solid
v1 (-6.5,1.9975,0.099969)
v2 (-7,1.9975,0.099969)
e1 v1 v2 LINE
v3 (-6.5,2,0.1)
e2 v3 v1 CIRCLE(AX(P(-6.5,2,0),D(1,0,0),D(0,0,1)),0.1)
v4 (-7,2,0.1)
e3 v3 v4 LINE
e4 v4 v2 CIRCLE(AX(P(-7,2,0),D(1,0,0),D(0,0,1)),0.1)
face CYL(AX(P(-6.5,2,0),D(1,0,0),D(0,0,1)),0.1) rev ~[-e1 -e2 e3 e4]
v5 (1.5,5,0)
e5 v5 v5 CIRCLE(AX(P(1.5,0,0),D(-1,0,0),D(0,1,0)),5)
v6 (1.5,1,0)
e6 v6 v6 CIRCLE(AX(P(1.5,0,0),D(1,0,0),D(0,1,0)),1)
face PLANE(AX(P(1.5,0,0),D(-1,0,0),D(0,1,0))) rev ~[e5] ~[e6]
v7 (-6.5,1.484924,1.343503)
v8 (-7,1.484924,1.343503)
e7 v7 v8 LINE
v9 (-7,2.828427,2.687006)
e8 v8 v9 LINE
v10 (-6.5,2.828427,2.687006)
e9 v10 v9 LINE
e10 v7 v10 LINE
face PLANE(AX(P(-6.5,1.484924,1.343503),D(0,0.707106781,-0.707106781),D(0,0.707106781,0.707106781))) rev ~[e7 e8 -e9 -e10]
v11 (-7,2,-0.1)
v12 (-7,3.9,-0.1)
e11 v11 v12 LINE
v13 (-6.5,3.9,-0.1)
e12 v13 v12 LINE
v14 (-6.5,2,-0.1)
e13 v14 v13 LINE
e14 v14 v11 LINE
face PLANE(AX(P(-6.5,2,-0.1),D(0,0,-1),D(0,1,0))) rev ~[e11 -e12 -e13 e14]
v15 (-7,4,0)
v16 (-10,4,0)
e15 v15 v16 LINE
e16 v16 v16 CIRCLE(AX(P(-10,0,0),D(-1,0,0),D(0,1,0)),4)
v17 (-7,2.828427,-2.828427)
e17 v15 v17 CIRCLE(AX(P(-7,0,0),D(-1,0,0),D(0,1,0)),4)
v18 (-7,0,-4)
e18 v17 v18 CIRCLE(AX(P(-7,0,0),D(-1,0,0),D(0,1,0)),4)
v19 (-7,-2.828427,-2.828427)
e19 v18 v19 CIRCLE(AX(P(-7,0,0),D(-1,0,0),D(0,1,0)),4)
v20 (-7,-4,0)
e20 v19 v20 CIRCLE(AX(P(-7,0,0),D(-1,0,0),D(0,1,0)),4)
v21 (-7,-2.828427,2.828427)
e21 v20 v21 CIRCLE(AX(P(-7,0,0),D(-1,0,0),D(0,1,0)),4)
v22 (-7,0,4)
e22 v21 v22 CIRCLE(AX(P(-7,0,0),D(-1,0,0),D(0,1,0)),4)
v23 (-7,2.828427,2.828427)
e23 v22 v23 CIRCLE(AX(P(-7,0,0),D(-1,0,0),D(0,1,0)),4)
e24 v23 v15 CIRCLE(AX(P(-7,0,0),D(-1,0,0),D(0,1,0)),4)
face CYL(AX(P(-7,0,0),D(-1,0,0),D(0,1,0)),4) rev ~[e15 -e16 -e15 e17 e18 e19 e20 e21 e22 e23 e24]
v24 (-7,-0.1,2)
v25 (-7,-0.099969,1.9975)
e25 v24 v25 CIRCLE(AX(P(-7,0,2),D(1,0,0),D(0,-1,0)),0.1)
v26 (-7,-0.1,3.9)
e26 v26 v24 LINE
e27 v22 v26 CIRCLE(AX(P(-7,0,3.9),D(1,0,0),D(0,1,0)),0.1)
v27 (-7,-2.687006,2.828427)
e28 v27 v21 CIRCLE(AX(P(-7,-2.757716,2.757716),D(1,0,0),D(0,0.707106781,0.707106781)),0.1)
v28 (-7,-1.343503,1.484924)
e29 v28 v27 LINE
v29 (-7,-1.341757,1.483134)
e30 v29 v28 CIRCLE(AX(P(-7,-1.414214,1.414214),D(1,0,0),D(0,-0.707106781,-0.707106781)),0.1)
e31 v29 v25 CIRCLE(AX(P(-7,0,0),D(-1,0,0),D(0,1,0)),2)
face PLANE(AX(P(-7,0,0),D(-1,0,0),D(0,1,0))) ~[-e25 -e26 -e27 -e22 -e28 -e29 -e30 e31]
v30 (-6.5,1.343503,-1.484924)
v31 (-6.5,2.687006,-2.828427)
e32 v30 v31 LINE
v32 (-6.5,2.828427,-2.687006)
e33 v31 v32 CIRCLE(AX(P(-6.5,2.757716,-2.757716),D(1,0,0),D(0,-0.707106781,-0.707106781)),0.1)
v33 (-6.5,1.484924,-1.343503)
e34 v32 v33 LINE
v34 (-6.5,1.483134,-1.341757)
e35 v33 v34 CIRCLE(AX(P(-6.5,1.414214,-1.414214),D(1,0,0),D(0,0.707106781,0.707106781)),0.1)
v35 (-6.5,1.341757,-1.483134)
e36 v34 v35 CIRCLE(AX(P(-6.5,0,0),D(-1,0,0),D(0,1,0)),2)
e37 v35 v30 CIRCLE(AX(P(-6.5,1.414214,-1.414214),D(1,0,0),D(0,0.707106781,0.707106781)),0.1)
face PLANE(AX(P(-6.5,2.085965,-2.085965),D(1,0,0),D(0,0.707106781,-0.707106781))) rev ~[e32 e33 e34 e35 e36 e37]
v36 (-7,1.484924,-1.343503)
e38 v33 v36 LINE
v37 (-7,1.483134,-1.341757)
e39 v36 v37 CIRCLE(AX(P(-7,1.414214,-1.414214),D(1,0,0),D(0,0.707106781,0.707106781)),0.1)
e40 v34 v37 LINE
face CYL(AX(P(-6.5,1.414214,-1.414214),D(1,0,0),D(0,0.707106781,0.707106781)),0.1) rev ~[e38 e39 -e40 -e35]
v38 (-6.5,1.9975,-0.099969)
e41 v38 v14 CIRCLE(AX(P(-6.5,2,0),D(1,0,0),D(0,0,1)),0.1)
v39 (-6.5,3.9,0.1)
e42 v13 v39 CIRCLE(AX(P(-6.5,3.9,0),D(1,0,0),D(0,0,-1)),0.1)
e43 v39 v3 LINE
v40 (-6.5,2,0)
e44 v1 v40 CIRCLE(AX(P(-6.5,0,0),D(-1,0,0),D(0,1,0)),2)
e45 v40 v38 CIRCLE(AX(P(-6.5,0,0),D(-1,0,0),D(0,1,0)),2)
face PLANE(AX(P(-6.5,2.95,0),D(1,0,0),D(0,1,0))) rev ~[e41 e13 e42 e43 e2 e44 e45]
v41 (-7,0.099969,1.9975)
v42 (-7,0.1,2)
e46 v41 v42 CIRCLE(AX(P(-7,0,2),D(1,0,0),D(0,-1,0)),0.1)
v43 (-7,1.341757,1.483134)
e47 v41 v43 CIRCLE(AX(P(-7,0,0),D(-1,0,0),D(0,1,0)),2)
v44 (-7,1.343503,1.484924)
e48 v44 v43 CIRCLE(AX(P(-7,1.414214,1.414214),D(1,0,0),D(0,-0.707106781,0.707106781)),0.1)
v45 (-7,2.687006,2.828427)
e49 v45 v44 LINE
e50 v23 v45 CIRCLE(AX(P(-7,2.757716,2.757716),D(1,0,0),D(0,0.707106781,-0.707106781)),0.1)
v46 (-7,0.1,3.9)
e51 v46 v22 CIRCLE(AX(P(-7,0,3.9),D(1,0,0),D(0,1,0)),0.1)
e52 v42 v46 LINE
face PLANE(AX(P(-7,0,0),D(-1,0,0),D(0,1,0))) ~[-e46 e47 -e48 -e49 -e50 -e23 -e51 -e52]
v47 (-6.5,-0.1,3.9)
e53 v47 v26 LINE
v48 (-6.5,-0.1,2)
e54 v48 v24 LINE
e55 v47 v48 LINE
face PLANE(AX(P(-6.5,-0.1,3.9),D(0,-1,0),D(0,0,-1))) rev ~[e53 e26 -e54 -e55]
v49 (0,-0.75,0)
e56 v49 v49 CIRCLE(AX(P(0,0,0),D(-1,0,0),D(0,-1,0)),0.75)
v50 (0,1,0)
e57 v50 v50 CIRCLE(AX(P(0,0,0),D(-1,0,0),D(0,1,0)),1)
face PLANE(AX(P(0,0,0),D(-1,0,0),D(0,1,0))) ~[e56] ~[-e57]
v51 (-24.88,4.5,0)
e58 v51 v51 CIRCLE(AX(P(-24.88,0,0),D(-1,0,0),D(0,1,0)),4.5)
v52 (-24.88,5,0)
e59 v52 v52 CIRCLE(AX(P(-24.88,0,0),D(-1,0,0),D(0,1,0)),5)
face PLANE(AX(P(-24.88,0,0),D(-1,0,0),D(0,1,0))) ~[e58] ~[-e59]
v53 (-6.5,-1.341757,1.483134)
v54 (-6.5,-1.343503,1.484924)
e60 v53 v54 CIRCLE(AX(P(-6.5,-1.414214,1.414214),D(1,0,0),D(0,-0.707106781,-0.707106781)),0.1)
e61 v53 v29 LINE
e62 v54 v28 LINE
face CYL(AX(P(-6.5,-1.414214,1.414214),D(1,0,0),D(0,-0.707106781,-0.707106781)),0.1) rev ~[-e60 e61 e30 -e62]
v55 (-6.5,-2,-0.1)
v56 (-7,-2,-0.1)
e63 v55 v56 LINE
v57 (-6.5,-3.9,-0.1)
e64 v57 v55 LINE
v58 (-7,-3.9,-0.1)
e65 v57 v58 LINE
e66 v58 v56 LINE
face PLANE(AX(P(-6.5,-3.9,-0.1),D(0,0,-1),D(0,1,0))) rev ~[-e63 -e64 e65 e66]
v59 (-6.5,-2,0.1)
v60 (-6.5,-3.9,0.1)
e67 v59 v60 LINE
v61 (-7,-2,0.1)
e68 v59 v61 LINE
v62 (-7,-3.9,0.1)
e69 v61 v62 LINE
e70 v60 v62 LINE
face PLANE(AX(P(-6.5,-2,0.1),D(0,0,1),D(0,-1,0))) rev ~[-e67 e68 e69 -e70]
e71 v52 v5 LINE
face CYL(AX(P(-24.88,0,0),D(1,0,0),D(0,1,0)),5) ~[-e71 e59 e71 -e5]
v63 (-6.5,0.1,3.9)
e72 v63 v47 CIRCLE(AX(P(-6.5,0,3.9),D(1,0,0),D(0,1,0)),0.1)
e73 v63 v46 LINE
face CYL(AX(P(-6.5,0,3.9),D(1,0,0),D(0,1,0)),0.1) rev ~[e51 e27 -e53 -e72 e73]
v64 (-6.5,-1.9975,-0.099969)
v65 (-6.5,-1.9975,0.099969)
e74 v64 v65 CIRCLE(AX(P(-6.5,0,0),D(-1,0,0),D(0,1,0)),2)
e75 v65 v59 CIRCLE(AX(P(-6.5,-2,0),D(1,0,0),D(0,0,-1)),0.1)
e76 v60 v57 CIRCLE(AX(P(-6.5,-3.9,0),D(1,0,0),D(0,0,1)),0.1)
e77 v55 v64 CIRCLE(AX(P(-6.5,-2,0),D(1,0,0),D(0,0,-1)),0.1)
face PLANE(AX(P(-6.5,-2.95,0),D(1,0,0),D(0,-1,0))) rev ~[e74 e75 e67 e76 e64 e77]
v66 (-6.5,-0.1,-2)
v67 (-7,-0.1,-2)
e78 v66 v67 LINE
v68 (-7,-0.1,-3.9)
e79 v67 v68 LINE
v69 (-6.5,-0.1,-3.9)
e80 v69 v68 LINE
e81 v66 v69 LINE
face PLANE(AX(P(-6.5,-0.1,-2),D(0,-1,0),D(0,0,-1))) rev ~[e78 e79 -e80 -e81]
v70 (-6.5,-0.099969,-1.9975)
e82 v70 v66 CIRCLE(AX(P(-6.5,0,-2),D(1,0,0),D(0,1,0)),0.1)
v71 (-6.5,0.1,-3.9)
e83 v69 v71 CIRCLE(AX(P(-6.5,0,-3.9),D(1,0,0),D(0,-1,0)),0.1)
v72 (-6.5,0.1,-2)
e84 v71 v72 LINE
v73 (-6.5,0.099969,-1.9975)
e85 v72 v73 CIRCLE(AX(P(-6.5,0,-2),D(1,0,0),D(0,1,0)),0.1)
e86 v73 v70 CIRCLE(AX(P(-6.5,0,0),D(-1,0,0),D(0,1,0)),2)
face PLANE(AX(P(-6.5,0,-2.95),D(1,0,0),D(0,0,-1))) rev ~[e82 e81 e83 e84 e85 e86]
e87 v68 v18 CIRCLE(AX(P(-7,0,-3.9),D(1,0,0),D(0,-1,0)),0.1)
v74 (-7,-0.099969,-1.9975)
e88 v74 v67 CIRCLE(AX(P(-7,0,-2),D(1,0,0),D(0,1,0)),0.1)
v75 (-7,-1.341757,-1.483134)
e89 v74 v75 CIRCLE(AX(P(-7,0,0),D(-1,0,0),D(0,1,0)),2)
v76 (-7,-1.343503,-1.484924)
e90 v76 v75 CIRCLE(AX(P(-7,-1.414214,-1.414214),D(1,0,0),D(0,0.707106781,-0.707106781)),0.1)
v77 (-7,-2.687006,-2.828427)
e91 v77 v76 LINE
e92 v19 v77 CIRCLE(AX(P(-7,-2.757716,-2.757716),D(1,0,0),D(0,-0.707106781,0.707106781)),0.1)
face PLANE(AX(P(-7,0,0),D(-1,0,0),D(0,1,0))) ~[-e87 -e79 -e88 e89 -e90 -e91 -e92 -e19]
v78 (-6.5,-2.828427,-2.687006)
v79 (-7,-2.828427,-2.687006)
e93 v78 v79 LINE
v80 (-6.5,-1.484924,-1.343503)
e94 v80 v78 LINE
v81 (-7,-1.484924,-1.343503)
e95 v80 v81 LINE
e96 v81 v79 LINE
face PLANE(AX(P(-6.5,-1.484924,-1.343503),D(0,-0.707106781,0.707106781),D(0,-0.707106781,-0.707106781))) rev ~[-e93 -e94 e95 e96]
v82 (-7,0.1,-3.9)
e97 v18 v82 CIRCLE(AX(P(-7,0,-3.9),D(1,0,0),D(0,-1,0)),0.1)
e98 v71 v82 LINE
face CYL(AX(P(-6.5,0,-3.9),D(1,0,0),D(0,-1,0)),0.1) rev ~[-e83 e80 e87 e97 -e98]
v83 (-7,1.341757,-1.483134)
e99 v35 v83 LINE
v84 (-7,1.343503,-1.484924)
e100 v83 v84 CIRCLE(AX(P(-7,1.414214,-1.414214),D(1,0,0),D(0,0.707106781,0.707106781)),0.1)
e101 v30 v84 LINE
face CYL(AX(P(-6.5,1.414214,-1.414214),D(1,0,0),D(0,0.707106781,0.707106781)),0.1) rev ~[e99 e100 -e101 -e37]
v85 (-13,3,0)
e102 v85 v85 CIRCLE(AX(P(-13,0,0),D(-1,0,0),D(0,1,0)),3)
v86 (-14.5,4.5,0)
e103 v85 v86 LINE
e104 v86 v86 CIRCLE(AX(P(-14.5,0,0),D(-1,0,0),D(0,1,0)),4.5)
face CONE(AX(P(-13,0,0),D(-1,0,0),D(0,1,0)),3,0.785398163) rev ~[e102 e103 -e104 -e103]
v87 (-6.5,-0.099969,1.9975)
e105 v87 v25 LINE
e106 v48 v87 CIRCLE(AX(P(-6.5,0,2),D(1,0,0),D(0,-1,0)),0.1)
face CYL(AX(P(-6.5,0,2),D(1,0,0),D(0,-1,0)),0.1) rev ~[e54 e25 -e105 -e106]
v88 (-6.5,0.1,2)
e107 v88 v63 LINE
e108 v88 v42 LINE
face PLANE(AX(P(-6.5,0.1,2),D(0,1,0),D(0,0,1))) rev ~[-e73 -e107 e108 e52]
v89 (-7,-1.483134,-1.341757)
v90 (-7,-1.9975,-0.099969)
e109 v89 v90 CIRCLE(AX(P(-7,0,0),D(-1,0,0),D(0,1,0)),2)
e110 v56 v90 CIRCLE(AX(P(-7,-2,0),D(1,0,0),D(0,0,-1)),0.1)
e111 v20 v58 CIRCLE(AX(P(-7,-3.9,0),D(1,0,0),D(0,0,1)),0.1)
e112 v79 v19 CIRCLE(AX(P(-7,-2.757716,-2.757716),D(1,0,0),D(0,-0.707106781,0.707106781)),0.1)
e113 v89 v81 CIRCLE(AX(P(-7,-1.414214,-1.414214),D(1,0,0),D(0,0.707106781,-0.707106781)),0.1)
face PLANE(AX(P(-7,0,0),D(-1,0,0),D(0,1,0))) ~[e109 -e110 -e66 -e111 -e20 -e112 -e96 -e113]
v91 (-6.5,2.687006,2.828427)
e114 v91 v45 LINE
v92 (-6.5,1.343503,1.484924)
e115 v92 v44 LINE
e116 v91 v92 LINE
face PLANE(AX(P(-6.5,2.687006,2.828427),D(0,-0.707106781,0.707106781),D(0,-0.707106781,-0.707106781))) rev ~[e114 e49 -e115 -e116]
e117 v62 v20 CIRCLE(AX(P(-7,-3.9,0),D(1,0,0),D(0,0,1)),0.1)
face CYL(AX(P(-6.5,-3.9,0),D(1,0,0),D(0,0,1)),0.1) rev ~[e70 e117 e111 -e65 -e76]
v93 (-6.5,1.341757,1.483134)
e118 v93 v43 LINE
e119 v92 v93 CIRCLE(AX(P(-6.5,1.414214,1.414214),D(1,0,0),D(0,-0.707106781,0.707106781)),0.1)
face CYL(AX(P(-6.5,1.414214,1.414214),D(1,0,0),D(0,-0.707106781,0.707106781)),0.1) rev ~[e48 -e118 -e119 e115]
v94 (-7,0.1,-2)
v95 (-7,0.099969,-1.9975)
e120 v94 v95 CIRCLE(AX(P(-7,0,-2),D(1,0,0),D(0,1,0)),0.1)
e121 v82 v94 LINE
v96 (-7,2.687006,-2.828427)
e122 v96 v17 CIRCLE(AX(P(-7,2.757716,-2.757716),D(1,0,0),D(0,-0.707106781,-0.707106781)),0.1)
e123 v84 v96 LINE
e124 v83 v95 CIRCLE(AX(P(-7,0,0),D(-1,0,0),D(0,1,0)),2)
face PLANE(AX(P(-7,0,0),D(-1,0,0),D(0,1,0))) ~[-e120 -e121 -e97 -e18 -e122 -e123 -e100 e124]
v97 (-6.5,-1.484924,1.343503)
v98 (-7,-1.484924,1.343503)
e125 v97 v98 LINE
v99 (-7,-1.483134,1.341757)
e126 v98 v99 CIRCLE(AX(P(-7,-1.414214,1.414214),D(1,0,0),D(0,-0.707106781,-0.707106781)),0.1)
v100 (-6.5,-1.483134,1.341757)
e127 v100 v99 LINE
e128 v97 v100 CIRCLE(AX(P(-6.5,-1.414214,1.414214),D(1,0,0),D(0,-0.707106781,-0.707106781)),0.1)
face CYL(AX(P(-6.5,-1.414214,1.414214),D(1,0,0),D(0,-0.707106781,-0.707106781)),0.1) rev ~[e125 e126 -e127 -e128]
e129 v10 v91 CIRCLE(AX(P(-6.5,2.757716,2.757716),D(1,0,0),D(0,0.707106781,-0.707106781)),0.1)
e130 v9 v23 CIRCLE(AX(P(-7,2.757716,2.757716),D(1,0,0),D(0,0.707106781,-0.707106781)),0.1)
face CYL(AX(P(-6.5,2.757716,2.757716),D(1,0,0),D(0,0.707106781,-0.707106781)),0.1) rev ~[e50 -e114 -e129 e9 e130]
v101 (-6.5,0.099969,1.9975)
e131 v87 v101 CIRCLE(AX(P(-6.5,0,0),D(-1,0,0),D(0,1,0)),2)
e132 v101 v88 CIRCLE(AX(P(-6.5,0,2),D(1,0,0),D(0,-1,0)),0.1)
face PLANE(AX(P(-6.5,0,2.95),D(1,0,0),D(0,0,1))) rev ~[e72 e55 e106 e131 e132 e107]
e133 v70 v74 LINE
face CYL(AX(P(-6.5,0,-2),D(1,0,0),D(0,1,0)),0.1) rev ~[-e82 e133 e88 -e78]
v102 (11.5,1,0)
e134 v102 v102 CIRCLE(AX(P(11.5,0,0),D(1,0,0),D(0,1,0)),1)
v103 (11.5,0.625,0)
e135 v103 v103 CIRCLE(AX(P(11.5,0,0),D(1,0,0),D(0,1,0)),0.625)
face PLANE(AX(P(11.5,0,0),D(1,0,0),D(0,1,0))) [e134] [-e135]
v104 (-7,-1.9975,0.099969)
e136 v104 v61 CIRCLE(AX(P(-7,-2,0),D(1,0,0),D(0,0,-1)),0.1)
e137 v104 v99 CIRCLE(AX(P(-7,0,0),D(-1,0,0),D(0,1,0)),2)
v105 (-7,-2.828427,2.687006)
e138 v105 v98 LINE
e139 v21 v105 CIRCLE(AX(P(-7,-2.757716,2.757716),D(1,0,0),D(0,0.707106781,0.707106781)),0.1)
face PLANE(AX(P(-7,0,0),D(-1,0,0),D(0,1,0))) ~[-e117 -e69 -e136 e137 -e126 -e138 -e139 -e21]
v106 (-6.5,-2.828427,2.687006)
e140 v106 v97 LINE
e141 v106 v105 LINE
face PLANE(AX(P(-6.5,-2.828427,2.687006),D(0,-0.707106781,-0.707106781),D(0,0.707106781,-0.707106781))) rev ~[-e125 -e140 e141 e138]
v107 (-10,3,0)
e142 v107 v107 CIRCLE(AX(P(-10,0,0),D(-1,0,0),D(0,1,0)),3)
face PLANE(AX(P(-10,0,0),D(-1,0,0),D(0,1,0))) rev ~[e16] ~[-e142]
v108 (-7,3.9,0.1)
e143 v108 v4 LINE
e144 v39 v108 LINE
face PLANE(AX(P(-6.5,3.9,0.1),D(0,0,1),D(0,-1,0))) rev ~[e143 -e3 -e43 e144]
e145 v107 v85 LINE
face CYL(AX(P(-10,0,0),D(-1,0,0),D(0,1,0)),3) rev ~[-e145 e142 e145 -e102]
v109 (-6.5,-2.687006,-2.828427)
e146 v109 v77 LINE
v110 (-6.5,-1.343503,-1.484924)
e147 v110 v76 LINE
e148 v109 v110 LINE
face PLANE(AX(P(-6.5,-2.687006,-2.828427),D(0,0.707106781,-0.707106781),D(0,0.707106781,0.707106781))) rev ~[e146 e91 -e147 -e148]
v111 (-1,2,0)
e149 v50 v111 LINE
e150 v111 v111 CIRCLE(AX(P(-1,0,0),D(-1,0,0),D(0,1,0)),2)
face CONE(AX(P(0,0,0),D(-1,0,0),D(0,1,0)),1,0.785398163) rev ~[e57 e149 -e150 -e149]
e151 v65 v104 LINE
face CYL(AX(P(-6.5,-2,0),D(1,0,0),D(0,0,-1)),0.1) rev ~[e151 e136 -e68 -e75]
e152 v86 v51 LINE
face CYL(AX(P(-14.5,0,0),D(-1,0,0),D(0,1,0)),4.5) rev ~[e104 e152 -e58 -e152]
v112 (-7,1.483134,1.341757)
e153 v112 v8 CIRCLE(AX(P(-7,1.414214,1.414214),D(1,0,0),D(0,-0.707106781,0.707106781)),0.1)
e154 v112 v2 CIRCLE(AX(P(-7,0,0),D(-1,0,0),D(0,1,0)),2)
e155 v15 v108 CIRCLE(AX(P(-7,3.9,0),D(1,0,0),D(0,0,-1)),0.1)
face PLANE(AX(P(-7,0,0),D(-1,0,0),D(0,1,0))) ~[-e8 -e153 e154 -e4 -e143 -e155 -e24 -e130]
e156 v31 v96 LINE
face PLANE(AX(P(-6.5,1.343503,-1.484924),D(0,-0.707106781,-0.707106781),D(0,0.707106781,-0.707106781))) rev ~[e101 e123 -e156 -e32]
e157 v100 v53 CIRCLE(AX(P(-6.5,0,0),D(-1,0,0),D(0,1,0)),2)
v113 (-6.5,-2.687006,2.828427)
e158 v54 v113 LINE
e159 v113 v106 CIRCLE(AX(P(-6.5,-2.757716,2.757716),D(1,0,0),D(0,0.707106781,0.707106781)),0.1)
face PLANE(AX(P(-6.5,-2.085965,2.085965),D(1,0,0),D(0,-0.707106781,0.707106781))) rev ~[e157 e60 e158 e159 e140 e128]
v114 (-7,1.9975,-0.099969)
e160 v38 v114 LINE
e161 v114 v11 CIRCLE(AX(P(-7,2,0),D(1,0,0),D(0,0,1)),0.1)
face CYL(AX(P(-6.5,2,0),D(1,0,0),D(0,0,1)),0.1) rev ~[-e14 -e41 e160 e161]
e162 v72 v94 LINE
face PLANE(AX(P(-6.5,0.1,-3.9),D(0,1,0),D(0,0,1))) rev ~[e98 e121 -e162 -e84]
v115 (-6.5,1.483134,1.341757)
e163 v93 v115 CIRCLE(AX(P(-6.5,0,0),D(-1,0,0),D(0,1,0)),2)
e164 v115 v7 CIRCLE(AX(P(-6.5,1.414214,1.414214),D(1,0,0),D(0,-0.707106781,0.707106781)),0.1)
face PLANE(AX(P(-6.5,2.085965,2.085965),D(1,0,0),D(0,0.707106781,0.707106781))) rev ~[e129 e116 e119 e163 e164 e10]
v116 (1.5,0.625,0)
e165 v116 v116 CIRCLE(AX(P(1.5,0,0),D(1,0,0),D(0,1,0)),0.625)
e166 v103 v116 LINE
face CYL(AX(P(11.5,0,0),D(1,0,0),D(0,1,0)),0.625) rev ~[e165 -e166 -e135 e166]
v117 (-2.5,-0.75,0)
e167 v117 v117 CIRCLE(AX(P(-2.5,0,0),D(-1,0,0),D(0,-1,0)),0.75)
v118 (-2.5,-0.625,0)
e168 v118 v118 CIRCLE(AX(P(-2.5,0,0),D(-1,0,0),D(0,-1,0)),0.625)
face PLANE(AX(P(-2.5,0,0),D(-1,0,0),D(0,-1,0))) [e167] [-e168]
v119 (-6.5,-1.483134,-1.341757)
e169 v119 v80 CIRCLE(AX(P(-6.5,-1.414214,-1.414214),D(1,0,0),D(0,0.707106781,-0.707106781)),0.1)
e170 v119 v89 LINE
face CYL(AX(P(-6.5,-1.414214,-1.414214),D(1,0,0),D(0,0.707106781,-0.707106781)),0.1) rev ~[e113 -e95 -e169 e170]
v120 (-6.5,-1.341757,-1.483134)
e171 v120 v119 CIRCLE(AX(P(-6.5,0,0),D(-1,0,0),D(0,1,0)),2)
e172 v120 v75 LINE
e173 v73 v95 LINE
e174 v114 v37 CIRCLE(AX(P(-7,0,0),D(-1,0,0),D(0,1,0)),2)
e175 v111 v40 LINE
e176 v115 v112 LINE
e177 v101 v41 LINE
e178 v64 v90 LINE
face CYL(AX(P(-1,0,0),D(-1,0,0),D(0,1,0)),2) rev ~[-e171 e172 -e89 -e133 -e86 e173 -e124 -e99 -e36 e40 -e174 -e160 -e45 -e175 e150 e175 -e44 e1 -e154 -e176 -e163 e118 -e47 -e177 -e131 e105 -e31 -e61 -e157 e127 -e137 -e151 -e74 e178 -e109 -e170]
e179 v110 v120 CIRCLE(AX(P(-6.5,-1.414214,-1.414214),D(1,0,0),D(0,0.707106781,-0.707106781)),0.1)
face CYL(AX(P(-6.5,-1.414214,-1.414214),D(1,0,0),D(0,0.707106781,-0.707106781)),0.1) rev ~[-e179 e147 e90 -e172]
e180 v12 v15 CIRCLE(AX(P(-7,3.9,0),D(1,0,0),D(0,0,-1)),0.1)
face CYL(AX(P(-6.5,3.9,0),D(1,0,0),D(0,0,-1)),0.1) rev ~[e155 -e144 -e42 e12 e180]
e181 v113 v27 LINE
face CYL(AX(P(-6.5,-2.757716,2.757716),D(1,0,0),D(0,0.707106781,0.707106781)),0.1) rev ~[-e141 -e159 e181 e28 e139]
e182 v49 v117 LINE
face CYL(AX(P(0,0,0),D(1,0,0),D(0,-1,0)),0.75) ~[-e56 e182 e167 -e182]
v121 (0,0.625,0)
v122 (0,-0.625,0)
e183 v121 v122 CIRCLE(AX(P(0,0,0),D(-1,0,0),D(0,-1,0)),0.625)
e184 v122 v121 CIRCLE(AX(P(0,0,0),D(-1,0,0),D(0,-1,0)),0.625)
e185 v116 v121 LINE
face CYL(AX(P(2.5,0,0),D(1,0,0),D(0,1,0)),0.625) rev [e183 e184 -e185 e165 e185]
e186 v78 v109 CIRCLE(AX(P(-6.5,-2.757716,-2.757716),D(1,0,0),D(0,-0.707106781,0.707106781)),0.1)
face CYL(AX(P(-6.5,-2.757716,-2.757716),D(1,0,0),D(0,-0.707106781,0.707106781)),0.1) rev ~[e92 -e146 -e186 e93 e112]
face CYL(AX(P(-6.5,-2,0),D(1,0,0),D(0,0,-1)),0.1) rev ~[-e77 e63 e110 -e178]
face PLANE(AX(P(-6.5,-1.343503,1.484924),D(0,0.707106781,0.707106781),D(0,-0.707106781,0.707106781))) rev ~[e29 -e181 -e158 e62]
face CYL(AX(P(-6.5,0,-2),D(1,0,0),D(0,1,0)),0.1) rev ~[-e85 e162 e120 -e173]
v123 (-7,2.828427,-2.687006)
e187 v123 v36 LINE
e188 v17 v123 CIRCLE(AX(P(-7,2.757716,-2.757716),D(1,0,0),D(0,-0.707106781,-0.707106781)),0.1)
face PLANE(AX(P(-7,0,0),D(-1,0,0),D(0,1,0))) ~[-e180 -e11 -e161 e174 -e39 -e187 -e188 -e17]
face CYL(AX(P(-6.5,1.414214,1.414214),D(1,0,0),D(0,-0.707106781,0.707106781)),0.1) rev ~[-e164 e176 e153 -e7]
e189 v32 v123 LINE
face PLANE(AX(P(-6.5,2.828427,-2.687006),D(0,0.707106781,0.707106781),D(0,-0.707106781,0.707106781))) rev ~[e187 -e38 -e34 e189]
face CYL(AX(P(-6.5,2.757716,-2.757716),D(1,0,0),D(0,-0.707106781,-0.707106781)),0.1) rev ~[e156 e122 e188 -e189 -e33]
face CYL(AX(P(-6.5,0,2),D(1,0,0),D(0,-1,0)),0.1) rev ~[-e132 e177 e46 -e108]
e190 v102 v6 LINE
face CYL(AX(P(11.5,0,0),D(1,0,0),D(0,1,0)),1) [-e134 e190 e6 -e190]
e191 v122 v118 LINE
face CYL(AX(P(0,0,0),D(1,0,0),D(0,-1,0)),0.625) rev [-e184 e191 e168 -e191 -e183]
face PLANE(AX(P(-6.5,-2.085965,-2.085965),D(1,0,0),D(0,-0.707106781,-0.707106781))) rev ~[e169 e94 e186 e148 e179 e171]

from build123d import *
from build123d.topology import SkipClean

# Parameters (mm, degrees)
CUT_EXTRUDE1_START  = -0.5
CUT_EXTRUDE1_DEPTH  = 2
CIRPATTERN1_COUNT   = 8
SKETCH3_R           = 0.75
SKETCH3_R_2         = 0.625
BOSS_EXTRUDE1_DEPTH = 2.5
CUT_EXTRUDE2_START  = -2.5
SKETCH4_R           = 0.625
CUT_EXTRUDE2_DEPTH  = 2.5
BOSS_EXTRUDE2_START = 10
SKETCH5_R           = 1
SKETCH5_R_2         = 0.625
BOSS_EXTRUDE2_DEPTH = 10


with BuildPart() as part:
    # Sketch1 → Revolve1 (revolve)
    with BuildSketch(Plane.XY):
        Polygon((0, 0), (0, 1), (-1, 2), (-7, 2), (-7, 4), (-10, 4), (-10, 3), (-13, 3), (-14.5, 4.5), (-24.88, 4.5), (-24.88, 5), (1.5, 5), (1.5, 0), align=None)
    revolve(axis=Axis((1.5, 0, 0), (-1, 0, 0)))

    # Sketch2 → Cut-Extrude1 (cut)
    with BuildSketch(Plane.ZY.offset(7).offset(CUT_EXTRUDE1_START)):
        with BuildLine():
            Line((-2, -0.1), (-3.9, -0.1))
            ThreePointArc((-3.9, -0.1), (-4, 0), (-3.9, 0.1))
            Line((-3.9, 0.1), (-2, 0.1))
            ThreePointArc((-2, 0.1), (-1.9, 0), (-2, -0.1))
        make_face()
    cut_extrude1 = extrude(amount=CUT_EXTRUDE1_DEPTH, mode=Mode.SUBTRACT)

    # CirPattern1: Cut-Extrude1 ×8 about axis
    cirpattern1_axis = Axis((0, 0, 0), (1, 0, 0))
    for i in range(1, CIRPATTERN1_COUNT):
        add(cut_extrude1.rotate(cirpattern1_axis, i * 360 / CIRPATTERN1_COUNT), mode=Mode.SUBTRACT)

    # Sketch3 → Boss-Extrude1 (add)
    with BuildSketch(Plane.ZY):
        with Locations(Location((0, 0, 0), (0, 0, 270))):
            Circle(SKETCH3_R)
        with Locations(Location((0, 0, 0), (0, 0, 270))):
            Circle(SKETCH3_R_2, mode=Mode.SUBTRACT)
    extrude(amount=BOSS_EXTRUDE1_DEPTH)

    # Sketch4 → Cut-Extrude2 (cut)
    with BuildSketch(Plane.ZY.offset(CUT_EXTRUDE2_START)):
        with Locations(Location((0, 0, 0), (0, 0, 90))):
            Circle(SKETCH4_R)
    extrude(amount=CUT_EXTRUDE2_DEPTH, mode=Mode.SUBTRACT)

    # Sketch5 → Boss-Extrude2 (add)
    with SkipClean():  # the faces are left unmerged after this step: merging them gives an invalid solid
        with BuildSketch(Plane(origin=(1.5, 0, 0), x_dir=(0, 0, -1), z_dir=(1, 0, 0)).offset(BOSS_EXTRUDE2_START)):
            with Locations(Location((0, 0, 0), (0, 0, 90))):
                Circle(SKETCH5_R)
            with Locations(Location((0, 0, 0), (0, 0, 90))):
                Circle(SKETCH5_R_2, mode=Mode.SUBTRACT)
        extrude(amount=-BOSS_EXTRUDE2_DEPTH)


solid = part.part
